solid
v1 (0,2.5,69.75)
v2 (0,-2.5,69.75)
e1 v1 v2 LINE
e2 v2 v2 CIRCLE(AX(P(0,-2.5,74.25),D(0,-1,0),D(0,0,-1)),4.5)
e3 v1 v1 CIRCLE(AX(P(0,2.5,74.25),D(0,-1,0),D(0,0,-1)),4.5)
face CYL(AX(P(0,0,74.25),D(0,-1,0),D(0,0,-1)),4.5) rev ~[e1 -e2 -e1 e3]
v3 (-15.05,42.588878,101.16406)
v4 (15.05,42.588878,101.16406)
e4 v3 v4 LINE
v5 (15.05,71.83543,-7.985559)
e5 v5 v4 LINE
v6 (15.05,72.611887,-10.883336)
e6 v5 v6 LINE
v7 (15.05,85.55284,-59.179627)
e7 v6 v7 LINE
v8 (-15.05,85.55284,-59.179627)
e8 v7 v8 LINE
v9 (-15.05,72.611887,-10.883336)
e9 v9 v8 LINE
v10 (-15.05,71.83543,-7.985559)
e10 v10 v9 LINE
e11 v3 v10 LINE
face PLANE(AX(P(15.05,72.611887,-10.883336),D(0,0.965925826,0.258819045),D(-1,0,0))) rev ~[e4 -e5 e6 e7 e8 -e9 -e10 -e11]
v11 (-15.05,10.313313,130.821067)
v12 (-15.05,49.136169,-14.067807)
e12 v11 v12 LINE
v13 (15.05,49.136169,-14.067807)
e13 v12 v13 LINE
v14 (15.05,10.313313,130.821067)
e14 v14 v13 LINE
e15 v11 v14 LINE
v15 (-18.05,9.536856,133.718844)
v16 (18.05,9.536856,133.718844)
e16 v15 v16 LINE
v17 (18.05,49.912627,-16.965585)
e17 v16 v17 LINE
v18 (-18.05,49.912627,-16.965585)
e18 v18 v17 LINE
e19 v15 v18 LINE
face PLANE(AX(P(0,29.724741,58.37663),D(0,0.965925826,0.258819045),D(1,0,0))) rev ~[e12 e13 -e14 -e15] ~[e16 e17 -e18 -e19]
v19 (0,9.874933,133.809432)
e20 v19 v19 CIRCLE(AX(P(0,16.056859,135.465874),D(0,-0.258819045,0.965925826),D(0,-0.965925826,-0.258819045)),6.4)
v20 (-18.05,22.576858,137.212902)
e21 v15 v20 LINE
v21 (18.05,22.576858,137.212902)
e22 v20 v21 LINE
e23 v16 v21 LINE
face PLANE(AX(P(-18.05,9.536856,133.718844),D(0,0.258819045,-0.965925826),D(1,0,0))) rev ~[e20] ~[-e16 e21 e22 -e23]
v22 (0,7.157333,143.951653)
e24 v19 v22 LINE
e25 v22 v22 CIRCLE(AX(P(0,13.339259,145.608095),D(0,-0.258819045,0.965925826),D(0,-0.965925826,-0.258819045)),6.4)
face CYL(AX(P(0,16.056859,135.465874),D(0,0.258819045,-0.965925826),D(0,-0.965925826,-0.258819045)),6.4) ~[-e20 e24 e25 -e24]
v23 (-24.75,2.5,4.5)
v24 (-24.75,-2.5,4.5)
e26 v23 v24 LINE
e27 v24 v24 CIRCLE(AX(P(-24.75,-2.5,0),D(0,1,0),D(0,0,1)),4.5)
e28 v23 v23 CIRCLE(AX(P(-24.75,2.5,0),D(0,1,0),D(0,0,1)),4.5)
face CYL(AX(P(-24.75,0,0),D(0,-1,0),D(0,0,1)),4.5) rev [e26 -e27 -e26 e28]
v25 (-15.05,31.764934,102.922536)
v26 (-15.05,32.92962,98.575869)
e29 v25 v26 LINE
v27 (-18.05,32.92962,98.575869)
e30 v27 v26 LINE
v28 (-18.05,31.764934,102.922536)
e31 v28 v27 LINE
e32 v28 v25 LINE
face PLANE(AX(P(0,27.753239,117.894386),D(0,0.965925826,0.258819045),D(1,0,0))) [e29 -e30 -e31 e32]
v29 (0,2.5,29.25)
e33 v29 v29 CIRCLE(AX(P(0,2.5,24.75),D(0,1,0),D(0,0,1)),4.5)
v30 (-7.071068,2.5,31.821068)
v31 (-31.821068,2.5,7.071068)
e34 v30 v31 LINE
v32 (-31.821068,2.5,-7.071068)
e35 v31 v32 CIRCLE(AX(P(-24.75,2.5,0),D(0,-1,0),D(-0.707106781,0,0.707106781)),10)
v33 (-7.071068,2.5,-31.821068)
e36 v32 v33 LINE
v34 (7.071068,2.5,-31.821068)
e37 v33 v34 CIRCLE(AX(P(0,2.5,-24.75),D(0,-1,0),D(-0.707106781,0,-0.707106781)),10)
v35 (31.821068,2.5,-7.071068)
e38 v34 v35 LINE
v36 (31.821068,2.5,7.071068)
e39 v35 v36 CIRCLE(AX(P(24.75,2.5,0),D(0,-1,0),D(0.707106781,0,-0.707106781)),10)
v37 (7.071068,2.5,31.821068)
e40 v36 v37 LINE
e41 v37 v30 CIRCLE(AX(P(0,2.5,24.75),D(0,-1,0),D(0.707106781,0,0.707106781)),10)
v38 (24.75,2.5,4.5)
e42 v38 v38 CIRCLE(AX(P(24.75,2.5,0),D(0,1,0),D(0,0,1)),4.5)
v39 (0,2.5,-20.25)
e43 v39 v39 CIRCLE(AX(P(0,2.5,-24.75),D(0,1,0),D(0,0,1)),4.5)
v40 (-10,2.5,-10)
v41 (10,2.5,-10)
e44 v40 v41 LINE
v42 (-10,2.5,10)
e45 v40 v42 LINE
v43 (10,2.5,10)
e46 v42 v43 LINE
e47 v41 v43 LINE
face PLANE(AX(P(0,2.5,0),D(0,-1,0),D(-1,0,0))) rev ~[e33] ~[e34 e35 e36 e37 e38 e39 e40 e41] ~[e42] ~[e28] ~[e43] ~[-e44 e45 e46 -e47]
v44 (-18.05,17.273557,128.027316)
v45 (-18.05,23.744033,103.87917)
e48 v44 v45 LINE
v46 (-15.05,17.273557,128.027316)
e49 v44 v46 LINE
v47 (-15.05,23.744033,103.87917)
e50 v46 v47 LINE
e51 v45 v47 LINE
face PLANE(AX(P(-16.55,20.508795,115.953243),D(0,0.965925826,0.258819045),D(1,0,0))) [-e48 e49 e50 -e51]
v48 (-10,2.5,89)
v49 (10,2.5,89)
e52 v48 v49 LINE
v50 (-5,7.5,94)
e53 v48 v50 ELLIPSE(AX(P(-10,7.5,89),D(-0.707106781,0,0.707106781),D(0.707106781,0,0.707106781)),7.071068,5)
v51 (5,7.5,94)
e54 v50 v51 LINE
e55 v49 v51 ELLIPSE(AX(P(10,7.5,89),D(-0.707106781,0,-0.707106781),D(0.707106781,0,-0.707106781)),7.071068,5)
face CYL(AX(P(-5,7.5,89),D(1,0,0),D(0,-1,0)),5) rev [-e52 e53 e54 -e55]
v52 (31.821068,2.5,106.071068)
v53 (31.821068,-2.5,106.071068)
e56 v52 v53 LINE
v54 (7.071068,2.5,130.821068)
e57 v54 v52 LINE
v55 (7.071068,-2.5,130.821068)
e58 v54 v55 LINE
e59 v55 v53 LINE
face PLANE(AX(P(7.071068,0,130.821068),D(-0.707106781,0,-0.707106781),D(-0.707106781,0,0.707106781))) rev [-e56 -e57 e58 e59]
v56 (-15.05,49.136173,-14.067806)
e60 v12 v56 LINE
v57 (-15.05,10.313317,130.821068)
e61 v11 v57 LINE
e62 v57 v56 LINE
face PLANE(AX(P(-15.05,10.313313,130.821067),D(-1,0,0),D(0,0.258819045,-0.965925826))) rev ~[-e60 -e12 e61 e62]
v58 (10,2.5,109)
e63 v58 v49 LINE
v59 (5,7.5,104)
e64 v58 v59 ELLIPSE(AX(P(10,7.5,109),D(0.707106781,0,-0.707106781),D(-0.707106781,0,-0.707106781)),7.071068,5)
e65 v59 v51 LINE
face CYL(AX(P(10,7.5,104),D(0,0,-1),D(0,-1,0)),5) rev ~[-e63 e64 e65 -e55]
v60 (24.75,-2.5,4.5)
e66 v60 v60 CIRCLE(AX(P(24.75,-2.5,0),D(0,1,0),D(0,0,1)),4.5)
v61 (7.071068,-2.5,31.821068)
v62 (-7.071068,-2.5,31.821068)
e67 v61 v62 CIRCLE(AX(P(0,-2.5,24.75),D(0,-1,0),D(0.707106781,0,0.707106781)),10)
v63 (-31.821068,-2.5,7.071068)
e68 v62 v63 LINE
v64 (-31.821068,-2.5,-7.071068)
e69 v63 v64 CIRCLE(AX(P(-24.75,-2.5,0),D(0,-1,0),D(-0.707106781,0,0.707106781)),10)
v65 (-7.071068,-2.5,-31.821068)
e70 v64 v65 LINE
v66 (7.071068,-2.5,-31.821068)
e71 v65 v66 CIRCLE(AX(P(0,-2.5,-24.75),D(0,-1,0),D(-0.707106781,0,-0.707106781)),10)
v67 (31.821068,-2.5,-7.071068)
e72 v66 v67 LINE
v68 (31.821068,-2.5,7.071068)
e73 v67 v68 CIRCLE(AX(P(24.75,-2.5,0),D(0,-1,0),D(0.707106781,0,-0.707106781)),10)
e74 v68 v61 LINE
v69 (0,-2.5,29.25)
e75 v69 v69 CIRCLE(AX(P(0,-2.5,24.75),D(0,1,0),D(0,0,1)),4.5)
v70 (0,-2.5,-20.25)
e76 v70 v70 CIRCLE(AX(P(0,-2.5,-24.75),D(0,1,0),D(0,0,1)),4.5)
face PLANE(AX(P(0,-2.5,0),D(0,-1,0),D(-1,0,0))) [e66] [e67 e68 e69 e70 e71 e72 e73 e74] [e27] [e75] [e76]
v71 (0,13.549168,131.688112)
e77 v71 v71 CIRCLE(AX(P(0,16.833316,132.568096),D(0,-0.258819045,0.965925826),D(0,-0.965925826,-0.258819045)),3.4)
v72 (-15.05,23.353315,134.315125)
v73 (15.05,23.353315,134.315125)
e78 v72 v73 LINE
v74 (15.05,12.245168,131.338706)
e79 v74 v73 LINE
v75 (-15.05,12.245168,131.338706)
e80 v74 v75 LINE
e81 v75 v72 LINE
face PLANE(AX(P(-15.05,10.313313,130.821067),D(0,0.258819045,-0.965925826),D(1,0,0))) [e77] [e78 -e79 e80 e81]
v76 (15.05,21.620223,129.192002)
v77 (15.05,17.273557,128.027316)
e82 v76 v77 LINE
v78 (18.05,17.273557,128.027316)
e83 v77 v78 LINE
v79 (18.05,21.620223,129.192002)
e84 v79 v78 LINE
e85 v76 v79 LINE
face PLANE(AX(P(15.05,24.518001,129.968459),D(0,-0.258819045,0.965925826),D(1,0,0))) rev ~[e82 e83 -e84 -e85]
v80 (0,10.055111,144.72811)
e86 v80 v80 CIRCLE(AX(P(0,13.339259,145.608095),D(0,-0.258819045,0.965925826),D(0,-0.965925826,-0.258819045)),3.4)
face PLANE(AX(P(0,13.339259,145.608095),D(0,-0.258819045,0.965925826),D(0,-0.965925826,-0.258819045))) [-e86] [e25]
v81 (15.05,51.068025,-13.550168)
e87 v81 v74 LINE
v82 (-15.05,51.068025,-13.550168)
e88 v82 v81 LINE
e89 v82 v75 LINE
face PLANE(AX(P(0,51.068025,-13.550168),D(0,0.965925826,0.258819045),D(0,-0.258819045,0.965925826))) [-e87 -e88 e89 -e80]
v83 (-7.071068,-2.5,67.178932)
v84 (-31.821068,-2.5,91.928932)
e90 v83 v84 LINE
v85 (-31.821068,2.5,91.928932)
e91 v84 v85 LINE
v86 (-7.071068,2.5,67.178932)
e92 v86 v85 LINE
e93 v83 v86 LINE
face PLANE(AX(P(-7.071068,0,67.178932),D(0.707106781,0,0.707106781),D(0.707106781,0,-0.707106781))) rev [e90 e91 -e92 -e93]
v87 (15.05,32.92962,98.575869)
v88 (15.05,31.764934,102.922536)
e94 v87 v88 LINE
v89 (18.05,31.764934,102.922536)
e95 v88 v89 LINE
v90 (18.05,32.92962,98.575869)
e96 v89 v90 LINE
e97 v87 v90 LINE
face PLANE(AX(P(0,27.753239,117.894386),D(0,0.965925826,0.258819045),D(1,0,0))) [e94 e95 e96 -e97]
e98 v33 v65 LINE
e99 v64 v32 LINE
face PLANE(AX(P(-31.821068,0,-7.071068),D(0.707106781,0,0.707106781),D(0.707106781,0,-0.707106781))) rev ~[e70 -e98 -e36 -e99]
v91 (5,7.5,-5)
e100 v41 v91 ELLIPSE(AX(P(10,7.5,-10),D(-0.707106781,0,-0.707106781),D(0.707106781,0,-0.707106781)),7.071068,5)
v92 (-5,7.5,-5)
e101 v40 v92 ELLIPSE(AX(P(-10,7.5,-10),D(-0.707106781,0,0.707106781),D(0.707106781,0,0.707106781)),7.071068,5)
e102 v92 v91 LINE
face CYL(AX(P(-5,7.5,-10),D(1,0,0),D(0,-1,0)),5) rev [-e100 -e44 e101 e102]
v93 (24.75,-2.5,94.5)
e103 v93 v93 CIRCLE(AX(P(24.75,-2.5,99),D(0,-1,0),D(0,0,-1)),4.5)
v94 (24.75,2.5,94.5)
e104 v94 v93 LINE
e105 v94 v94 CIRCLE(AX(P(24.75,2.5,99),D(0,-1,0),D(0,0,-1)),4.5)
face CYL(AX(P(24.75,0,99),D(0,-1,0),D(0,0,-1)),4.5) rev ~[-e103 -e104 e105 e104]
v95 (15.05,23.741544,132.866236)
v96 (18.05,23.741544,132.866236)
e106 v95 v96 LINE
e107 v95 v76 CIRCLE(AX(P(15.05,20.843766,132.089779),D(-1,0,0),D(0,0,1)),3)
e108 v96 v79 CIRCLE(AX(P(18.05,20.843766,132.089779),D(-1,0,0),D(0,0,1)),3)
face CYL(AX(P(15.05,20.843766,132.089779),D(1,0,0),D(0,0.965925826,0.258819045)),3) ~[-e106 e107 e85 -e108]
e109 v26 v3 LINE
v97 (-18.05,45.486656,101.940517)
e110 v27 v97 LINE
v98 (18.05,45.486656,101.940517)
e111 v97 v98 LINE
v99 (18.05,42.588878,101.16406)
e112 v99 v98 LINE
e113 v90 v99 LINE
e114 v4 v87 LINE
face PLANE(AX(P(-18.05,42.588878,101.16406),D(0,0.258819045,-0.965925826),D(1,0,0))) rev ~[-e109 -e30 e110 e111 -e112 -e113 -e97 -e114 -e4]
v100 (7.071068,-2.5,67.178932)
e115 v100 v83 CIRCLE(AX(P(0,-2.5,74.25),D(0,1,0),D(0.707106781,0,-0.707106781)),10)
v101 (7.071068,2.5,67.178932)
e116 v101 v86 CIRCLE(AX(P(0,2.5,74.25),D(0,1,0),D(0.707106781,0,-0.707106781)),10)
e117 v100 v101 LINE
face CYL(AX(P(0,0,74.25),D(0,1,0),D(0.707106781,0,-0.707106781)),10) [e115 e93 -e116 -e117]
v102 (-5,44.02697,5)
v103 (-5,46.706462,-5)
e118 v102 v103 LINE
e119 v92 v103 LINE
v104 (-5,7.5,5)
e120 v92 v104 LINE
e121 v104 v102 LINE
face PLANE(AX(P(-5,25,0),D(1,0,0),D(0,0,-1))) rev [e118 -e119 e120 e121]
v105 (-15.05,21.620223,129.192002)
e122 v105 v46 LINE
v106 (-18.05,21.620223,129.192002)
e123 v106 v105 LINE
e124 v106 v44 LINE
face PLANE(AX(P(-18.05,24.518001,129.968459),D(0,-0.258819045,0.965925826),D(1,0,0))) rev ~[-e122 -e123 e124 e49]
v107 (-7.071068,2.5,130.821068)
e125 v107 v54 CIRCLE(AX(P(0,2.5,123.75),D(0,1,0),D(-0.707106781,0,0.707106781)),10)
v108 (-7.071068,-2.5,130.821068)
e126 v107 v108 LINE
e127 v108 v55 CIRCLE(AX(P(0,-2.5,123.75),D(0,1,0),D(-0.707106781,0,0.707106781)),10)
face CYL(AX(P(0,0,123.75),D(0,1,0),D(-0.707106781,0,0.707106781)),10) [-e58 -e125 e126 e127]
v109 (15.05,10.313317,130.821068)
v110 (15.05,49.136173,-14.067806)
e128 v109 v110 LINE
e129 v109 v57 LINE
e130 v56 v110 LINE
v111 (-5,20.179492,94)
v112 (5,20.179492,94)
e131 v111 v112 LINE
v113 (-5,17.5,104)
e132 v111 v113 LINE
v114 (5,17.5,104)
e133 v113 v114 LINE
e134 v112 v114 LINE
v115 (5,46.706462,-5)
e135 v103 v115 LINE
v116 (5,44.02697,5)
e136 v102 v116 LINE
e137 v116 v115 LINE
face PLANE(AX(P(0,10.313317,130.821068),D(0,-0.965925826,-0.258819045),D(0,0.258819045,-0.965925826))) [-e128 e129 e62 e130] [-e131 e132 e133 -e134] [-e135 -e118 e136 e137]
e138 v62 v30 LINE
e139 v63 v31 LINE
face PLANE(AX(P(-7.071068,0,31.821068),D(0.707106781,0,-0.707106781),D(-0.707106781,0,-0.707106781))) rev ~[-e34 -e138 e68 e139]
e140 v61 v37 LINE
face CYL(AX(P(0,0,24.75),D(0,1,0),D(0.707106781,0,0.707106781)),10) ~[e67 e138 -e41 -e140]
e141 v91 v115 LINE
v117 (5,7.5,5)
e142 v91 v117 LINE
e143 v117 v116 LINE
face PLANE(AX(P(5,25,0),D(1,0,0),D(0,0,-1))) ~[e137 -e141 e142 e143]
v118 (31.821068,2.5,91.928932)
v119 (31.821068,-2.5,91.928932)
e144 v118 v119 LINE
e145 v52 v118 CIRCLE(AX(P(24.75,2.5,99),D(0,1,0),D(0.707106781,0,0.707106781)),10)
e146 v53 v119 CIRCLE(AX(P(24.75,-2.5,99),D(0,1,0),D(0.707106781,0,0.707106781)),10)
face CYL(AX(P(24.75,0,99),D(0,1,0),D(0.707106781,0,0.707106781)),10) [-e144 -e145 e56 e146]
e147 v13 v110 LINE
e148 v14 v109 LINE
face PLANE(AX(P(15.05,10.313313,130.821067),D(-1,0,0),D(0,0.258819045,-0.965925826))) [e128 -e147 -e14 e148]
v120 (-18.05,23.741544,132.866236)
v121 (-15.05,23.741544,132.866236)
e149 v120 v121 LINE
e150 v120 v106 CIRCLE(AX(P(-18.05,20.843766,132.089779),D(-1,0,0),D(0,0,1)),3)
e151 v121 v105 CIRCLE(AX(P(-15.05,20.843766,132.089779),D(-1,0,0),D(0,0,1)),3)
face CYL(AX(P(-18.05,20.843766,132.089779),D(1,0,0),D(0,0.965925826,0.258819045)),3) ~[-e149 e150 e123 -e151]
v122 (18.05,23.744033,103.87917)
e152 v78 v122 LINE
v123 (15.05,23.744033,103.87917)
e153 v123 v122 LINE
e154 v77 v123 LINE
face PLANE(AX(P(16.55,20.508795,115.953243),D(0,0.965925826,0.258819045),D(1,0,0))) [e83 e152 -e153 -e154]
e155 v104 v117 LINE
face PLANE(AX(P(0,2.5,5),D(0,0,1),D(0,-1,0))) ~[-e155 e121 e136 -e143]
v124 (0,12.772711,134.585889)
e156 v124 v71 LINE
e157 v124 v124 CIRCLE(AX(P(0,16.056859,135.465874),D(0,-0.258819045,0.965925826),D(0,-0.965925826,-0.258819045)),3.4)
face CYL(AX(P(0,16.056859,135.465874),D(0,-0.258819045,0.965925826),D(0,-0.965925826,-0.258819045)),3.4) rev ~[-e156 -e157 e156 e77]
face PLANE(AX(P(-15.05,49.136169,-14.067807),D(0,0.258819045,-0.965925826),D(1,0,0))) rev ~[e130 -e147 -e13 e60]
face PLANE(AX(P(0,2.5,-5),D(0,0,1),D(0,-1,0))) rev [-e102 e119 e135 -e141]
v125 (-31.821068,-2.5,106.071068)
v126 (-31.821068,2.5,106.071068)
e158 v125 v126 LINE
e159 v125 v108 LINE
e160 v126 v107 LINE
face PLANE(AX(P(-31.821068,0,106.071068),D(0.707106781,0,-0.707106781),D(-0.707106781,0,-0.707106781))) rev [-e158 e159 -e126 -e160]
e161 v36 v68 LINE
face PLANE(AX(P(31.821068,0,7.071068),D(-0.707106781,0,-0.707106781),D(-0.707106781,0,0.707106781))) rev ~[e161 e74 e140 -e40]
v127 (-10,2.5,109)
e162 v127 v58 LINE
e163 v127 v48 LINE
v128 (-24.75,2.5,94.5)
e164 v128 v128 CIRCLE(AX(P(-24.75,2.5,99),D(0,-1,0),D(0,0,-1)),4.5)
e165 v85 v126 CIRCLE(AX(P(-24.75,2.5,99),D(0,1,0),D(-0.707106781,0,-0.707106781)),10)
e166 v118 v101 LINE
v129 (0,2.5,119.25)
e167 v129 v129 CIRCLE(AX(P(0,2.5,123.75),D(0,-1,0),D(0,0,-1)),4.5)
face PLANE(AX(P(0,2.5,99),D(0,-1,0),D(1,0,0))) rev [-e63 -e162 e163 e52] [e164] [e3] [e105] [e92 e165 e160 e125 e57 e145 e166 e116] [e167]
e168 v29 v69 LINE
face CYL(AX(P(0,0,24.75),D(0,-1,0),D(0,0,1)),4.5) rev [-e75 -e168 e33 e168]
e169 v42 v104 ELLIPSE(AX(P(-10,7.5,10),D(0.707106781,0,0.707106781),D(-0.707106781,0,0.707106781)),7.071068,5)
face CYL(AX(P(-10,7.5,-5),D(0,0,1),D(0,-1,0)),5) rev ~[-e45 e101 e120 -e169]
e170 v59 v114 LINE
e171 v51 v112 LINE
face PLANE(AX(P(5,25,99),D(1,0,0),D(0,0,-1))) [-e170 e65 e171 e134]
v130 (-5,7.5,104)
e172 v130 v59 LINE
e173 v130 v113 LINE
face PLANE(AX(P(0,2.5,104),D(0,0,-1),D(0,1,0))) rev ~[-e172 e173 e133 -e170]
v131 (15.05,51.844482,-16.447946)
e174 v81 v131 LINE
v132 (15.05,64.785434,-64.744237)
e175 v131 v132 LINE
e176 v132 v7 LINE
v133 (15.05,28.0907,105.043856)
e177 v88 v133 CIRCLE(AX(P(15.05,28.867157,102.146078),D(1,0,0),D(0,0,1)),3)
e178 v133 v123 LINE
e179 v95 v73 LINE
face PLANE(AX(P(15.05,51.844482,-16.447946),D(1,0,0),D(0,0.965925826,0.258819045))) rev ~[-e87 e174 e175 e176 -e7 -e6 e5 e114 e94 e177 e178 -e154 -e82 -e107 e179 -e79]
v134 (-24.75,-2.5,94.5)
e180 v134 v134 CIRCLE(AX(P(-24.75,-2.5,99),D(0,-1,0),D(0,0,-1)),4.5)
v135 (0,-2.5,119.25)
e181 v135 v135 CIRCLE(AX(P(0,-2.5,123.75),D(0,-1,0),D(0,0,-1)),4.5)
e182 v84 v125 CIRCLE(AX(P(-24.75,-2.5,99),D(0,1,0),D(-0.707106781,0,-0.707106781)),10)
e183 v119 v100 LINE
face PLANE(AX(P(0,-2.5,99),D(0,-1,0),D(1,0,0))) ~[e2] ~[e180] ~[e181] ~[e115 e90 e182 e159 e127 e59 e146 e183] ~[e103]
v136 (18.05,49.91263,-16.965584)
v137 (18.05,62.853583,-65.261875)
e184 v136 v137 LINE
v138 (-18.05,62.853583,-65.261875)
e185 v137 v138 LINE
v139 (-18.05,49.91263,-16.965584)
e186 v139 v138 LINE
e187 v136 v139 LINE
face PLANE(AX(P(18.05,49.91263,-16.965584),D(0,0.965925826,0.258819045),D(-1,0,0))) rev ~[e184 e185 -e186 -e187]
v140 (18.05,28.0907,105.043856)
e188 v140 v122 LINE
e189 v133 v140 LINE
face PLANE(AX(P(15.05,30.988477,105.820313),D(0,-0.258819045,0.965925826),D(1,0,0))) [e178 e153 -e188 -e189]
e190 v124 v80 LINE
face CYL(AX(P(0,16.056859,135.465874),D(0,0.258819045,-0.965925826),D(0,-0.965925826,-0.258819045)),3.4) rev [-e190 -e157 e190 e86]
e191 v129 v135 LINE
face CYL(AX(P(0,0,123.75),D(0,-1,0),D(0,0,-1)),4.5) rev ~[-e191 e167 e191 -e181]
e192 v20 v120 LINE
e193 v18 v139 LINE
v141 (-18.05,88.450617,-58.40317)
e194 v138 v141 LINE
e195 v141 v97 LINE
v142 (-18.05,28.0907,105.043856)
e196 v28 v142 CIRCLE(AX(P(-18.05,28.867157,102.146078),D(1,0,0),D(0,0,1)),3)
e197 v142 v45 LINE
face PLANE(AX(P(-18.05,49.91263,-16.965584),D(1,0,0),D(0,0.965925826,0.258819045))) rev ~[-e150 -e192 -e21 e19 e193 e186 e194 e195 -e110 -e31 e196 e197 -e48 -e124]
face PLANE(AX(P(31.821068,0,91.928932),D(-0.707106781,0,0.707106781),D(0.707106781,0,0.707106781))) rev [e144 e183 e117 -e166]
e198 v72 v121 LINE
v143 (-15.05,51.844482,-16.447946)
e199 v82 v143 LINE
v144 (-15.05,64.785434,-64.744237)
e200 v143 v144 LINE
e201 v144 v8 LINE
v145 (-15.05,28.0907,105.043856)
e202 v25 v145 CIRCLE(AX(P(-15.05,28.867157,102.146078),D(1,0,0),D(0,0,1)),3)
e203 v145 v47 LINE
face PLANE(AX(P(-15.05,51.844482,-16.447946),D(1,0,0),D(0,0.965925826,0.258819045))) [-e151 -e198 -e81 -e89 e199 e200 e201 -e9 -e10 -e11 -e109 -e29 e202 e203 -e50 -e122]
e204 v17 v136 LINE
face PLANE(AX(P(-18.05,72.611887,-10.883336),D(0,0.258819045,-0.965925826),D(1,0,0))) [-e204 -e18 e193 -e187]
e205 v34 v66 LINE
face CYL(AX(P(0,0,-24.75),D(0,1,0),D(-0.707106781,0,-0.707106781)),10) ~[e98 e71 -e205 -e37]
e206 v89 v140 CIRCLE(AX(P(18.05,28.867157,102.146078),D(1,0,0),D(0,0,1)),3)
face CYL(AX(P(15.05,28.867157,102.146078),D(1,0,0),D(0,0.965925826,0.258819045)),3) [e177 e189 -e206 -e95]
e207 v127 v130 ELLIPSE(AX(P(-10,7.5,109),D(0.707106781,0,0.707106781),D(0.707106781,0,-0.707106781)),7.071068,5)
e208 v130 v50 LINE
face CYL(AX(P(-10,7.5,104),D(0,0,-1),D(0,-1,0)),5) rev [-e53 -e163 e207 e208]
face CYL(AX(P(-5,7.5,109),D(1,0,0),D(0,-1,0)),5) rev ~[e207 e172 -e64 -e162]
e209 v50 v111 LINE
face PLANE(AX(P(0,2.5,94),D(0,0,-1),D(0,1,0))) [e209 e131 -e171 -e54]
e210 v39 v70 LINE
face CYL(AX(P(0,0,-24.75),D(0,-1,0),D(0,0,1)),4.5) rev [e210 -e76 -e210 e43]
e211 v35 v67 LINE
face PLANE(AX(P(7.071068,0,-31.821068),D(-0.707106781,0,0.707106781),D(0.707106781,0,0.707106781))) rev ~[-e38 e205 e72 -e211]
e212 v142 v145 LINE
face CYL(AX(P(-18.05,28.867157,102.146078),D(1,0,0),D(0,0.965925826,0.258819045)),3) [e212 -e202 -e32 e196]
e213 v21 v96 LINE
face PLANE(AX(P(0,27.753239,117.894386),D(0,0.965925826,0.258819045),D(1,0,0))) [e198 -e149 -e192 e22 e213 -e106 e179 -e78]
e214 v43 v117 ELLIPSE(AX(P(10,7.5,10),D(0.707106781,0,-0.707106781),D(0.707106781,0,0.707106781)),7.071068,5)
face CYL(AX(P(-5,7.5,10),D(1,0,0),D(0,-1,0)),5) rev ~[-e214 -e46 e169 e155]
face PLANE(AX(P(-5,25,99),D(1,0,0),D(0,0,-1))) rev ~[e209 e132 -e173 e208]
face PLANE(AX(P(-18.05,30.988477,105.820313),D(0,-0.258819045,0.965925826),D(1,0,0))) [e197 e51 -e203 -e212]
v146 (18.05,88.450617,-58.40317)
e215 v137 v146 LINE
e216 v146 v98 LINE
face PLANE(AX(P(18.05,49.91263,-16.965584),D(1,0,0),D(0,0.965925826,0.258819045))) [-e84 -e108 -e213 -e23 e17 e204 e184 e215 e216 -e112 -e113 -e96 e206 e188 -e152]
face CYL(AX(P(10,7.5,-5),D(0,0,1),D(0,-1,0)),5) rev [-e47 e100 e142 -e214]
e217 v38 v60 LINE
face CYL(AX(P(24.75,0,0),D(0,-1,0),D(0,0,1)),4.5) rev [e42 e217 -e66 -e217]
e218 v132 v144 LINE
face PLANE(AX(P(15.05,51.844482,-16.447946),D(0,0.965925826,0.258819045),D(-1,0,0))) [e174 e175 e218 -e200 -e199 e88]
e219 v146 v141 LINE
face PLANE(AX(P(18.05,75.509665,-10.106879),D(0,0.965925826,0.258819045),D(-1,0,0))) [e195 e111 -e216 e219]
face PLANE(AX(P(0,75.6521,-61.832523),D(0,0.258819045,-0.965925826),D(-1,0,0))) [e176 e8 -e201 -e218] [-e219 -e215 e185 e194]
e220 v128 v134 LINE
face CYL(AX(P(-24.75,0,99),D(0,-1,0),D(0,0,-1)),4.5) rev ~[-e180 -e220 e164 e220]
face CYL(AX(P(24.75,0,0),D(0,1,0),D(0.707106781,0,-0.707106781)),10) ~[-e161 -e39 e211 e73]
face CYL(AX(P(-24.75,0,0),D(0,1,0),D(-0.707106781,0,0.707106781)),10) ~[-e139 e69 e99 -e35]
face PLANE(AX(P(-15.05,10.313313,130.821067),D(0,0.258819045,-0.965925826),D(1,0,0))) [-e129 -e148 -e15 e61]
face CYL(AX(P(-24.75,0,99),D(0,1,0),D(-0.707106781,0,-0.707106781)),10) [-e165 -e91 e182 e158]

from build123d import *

# Parameters (mm, degrees)
SKETCH1_R                = 4.5
BOSS_EXTRUDE1_DEPTH      = 2.5
SKETCH2_W                = 10
SKETCH2_H                = 45
BOSS_EXTRUDE2_DEPTH      = 5
CUT_EXTRUDE1_DEPTH       = 147.126229678
CUT_EXTRUDE1_DEPTH_BACK  = 147.126229678
BOSS_EXTRUDE3_DEPTH      = 15.05
FILLET1_R                = 5
FILLET2_R                = 5
BOSS_EXTRUDE4_DEPTH      = 16.5
BOSS_EXTRUDE4_DEPTH_BACK = 2.000004
SKETCH6_W                = 36.1
SKETCH6_H                = 156
SKETCH6_W_2              = 30.1
SKETCH6_H_2              = 150
BOSS_EXTRUDE5_DEPTH      = 5
SKETCH8_W                = 36.1
SKETCH8_H                = 116
BOSS_EXTRUDE6_DEPTH      = 3
CUT_EXTRUDE2_REACH       = 183.097
SKETCH10_W               = 30.1
SKETCH10_H               = 21.5
SKETCH11_W               = 36.1
SKETCH11_H               = 40
CUT_EXTRUDE3_DEPTH       = 5
SKETCH12_W               = 3
SKETCH12_H               = 25
CUT_EXTRUDE4_DEPTH       = 7.5
CUT_EXTRUDE5_REACH       = 195.973
SKETCH13_R               = 3.4
SKETCH14_R               = 6.4
SKETCH14_R_2             = 3.4
BOSS_EXTRUDE7_DEPTH      = 10.5
FILLET3_R                = 3
SKETCH15_W               = 36.1
SKETCH15_H               = 26.5
SKETCH15_W_2             = 30.1
SKETCH15_H_2             = 21.5
BOSS_EXTRUDE8_DEPTH      = 50


with BuildPart() as part:
    # Sketch1 → Boss-Extrude1 (new, symmetric)
    with BuildSketch(Plane(origin=(0, 0, 0), x_dir=(1, 0, 0), z_dir=(0, 1, 0))):
        with BuildLine():
            Line((-31.821067812, 7.071067812), (-7.071067812, 31.821067812))
            ThreePointArc((-7.071067812, 31.821067812), (0, 34.75), (7.071067812, 31.821067812))
            Line((7.071067812, 31.821067812), (31.821067812, 7.071067812))
            ThreePointArc((31.821067812, 7.071067812), (34.75, 0), (31.821067812, -7.071067812))
            Line((31.821067812, -7.071067812), (7.071067812, -31.821067812))
            ThreePointArc((7.071067812, -31.821067812), (0, -34.75), (-7.071067812, -31.821067812))
            Line((-7.071067812, -31.821067812), (-31.821067812, -7.071067812))
            ThreePointArc((-31.821067812, -7.071067812), (-34.75, 0), (-31.821067812, 7.071067812))
        make_face()
        with Locations(Location((0, 24.75, 0), (0, 0, 270))):
            Circle(SKETCH1_R, mode=Mode.SUBTRACT)
        with Locations(Location((24.75, 0, 0), (0, 0, 270))):
            Circle(SKETCH1_R, mode=Mode.SUBTRACT)
        with Locations(Location((0, -24.75, 0), (0, 0, 270))):
            Circle(SKETCH1_R, mode=Mode.SUBTRACT)
        with Locations(Location((-24.75, 0, 0), (0, 0, 270))):
            Circle(SKETCH1_R, mode=Mode.SUBTRACT)
    extrude(amount=BOSS_EXTRUDE1_DEPTH, both=True)


with BuildPart() as body_2:
    # Mirror3: mirrored copy
    add(part.part.mirror(Plane.XY.offset(49.5)))


with BuildPart() as body_3:
    # Sketch2 → Boss-Extrude2 (new, symmetric)
    with BuildSketch(Plane(origin=(0, 0, 0), x_dir=(0, 0, -1), z_dir=(1, 0, 0))):
        with Locations((-99, 25)):
            Rectangle(SKETCH2_W, SKETCH2_H)
    extrude(amount=BOSS_EXTRUDE2_DEPTH, both=True)


with BuildPart() as body_4:
    # Mirror5: mirrored copy
    add(body_3.part.mirror(Plane.XY.offset(49.5)))


with BuildPart() as cut_extrude1_tool:
    # Sketch3 → Cut-Extrude1 (new, two sides: drawn at the far end of the back side and taken through both)
    with BuildSketch(Plane(origin=(0, 0, 0), x_dir=(0, 0, -1), z_dir=(1, 0, 0)).offset(-CUT_EXTRUDE1_DEPTH_BACK)):
        Polygon((-398.060619113, -61.293305417), (-104, 17.5), (5, 46.706461975), (299.060619113, 125.499767392), (141.474008279, 713.621005618), (-555.647229947, 526.827932809), align=None)
    extrude(amount=CUT_EXTRUDE1_DEPTH + CUT_EXTRUDE1_DEPTH_BACK)


with BuildPart() as body_3_1:
    add(body_3.part)

    # Cut-Extrude1: cut by cut_extrude1_tool
    add(cut_extrude1_tool.part, mode=Mode.SUBTRACT)


with BuildPart() as body_4_1:
    add(body_4.part)

    # Cut-Extrude1: cut by cut_extrude1_tool
    add(cut_extrude1_tool.part, mode=Mode.SUBTRACT)

    # Combine2: union part
    add(part.part)

    # Fillet2
    fillet2_edges = [body_4_1.edges().sort_by_distance(p)[0] for p in [
        (-5, 2.5, 0),
        (0, 2.5, 5),
        (0, 2.5, -5),
        (5, 2.5, 0),
    ]]
    fillet(fillet2_edges, radius=FILLET2_R)


with BuildPart() as body_5:
    # Sketch4 → Boss-Extrude3 (new, symmetric)
    with BuildSketch(Plane(origin=(0, 0, 0), x_dir=(0, 0, -1), z_dir=(1, 0, 0))):
        Polygon((-130.821067812, 10.31331654), (14.067806131, 49.136173305), (13.550168041, 51.068024958), (-131.338705902, 12.245168192), align=None)
    extrude(amount=BOSS_EXTRUDE3_DEPTH, both=True)



with BuildPart() as body_2_1:
    add(body_2.part)

    # Combine1: union body 3
    add(body_3_1.part)

    # Fillet1
    fillet1_edges = [body_2_1.edges().sort_by_distance(p)[0] for p in [
        (0, 2.5, 94),
        (5, 2.5, 99),
        (-5, 2.5, 99),
        (0, 2.5, 104),
    ]]
    fillet(fillet1_edges, radius=FILLET1_R)


with BuildPart() as body_5_1:
    add(body_5.part)

    add(body_2_1.part)  # Boss-Extrude4 merges body 2

    add(body_4_1.part)  # Boss-Extrude4 merges body 4
    # Sketch6 → Boss-Extrude4 (add, two sides: drawn at the far end of the back side and taken through both)
    with BuildSketch(Plane(origin=(0, 44.259573936, 11.859317093), x_dir=(1, 0, 0), z_dir=(0, 0.96592582628907, 0.2588190451025143)).offset(-BOSS_EXTRUDE4_DEPTH_BACK)):
        with Locations((0, -48.694165284)):
            Rectangle(SKETCH6_W, SKETCH6_H)
        with Locations((0, -48.694165284)):
            Rectangle(SKETCH6_W_2, SKETCH6_H_2, mode=Mode.SUBTRACT)
    extrude(amount=BOSS_EXTRUDE4_DEPTH + BOSS_EXTRUDE4_DEPTH_BACK)

    # Sketch7 → Boss-Extrude5 (add)
    with BuildSketch(Plane(origin=(0, 60.197350069, 16.129831338), x_dir=(1, 0, 0), z_dir=(0, 0.96592582628907, 0.25881904510251436))):
        Polygon((15.05, 26.305834716), (15.05, -86.694165284), (18.05, -86.694165284), (18.05, 29.305834716), (-18.05, 29.305834716), (-18.05, -86.694165284), (-15.05, -86.694165284), (-15.05, 26.305834716), align=None)
    extrude(amount=BOSS_EXTRUDE5_DEPTH)

    # Sketch8 → Boss-Extrude6 (add)
    with BuildSketch(Plane(origin=(0, 65.026979201, 17.423926563), x_dir=(1, 0, 0), z_dir=(0, 0.96592582628907, 0.25881904510251436))):
        with Locations((0, -28.694165284)):
            Rectangle(SKETCH8_W, SKETCH8_H)
    extrude(amount=BOSS_EXTRUDE6_DEPTH)

    # Sketch10 → Cut-Extrude2 (cut, up to next)
    with BuildSketch(Plane(origin=(0, 6.808451022, -25.409485135), x_dir=(1, 0, 0), z_dir=(0, -0.2588190451025143, 0.96592582628907)), mode=Mode.PRIVATE) as cut_extrude2_sk1:
        with Locations((0, 56.570882651)):
            Rectangle(SKETCH10_W, SKETCH10_H)
    cut_extrude2_tool1 = extrude(cut_extrude2_sk1.sketch, amount=-CUT_EXTRUDE2_REACH, mode=Mode.PRIVATE) & body_5_1.part
    add(cut_extrude2_tool1.solids().sort_by_distance((0, 61.451728, -10.767863))[0], mode=Mode.SUBTRACT)

    # Sketch11 → Cut-Extrude3 (cut)
    with BuildSketch(Plane(origin=(0, 60.197350069, 16.129831338), x_dir=(1, 0, 0), z_dir=(0, 0.96592582628907, 0.25881904510251436))):
        with Locations((0, -106.694165284)):
            Rectangle(SKETCH11_W, SKETCH11_H)
    extrude(amount=-CUT_EXTRUDE3_DEPTH, mode=Mode.SUBTRACT)

    # Sketch12 → Cut-Extrude4 (cut)
    with BuildSketch(Plane(origin=(0, 55.367720938, 14.835736112), x_dir=(1, 0, 0), z_dir=(0, 0.96592582628907, 0.25881904510251447))):
        with Locations((-16.55, -106.694165284)):
            Rectangle(SKETCH12_W, SKETCH12_H)
        with Locations((16.55, -106.694165284)):
            Rectangle(SKETCH12_W, SKETCH12_H)
    extrude(amount=-CUT_EXTRUDE4_DEPTH, mode=Mode.SUBTRACT)

    # Sketch13 → Cut-Extrude5 (cut, up to next)
    with BuildSketch(Plane(origin=(0, -32.790862879, 122.377166288), x_dir=(1, 0, 0), z_dir=(0, -0.2588190451025143, 0.96592582628907)), mode=Mode.PRIVATE) as cut_extrude5_sk1:
        with Locations(Location((0, 50.570882651, 0), (0, 0, 270))):
            Circle(SKETCH13_R)
    cut_extrude5_tool1 = extrude(cut_extrude5_sk1.sketch, amount=-CUT_EXTRUDE5_REACH, mode=Mode.PRIVATE) & body_5_1.part
    add(cut_extrude5_tool1.solids().sort_by_distance((0, 16.056859, 135.465874))[0], mode=Mode.SUBTRACT)

    # Sketch14 → Boss-Extrude7 (add)
    with BuildSketch(Plane(origin=(0, -32.790862879, 122.377166288), x_dir=(1, 0, 0), z_dir=(0, -0.2588190451025143, 0.96592582628907))):
        with Locations(Location((0, 50.570882651, 0), (0, 0, 270))):
            Circle(SKETCH14_R)
        with Locations(Location((0, 50.570882651, 0), (0, 0, 270))):
            Circle(SKETCH14_R_2, mode=Mode.SUBTRACT)
    extrude(amount=BOSS_EXTRUDE7_DEPTH)

    # Fillet3
    fillet3_edges = [body_5_1.edges().sort_by_distance(p)[0] for p in [
        (-16.55, 24.518000898, 129.968458702),
        (-16.55, 30.988477025, 105.820313045),
        (16.55, 24.518000898, 129.968458702),
        (16.55, 30.988477025, 105.820313045),
    ]]
    fillet(fillet3_edges, radius=FILLET3_R)

    # Sketch15 → Boss-Extrude8 (add)
    with BuildSketch(Plane(origin=(0, 7.584908157, -28.307262614), x_dir=(-1, 0, 0), z_dir=(0, 0.2588190451025143, -0.96592582628907))):
        with Locations((0, 57.070882651)):
            Rectangle(SKETCH15_W, SKETCH15_H)
        with Locations((0, 56.570882651)):
            Rectangle(SKETCH15_W_2, SKETCH15_H_2, mode=Mode.SUBTRACT)
    extrude(amount=BOSS_EXTRUDE8_DEPTH)


solid = body_5_1.part
